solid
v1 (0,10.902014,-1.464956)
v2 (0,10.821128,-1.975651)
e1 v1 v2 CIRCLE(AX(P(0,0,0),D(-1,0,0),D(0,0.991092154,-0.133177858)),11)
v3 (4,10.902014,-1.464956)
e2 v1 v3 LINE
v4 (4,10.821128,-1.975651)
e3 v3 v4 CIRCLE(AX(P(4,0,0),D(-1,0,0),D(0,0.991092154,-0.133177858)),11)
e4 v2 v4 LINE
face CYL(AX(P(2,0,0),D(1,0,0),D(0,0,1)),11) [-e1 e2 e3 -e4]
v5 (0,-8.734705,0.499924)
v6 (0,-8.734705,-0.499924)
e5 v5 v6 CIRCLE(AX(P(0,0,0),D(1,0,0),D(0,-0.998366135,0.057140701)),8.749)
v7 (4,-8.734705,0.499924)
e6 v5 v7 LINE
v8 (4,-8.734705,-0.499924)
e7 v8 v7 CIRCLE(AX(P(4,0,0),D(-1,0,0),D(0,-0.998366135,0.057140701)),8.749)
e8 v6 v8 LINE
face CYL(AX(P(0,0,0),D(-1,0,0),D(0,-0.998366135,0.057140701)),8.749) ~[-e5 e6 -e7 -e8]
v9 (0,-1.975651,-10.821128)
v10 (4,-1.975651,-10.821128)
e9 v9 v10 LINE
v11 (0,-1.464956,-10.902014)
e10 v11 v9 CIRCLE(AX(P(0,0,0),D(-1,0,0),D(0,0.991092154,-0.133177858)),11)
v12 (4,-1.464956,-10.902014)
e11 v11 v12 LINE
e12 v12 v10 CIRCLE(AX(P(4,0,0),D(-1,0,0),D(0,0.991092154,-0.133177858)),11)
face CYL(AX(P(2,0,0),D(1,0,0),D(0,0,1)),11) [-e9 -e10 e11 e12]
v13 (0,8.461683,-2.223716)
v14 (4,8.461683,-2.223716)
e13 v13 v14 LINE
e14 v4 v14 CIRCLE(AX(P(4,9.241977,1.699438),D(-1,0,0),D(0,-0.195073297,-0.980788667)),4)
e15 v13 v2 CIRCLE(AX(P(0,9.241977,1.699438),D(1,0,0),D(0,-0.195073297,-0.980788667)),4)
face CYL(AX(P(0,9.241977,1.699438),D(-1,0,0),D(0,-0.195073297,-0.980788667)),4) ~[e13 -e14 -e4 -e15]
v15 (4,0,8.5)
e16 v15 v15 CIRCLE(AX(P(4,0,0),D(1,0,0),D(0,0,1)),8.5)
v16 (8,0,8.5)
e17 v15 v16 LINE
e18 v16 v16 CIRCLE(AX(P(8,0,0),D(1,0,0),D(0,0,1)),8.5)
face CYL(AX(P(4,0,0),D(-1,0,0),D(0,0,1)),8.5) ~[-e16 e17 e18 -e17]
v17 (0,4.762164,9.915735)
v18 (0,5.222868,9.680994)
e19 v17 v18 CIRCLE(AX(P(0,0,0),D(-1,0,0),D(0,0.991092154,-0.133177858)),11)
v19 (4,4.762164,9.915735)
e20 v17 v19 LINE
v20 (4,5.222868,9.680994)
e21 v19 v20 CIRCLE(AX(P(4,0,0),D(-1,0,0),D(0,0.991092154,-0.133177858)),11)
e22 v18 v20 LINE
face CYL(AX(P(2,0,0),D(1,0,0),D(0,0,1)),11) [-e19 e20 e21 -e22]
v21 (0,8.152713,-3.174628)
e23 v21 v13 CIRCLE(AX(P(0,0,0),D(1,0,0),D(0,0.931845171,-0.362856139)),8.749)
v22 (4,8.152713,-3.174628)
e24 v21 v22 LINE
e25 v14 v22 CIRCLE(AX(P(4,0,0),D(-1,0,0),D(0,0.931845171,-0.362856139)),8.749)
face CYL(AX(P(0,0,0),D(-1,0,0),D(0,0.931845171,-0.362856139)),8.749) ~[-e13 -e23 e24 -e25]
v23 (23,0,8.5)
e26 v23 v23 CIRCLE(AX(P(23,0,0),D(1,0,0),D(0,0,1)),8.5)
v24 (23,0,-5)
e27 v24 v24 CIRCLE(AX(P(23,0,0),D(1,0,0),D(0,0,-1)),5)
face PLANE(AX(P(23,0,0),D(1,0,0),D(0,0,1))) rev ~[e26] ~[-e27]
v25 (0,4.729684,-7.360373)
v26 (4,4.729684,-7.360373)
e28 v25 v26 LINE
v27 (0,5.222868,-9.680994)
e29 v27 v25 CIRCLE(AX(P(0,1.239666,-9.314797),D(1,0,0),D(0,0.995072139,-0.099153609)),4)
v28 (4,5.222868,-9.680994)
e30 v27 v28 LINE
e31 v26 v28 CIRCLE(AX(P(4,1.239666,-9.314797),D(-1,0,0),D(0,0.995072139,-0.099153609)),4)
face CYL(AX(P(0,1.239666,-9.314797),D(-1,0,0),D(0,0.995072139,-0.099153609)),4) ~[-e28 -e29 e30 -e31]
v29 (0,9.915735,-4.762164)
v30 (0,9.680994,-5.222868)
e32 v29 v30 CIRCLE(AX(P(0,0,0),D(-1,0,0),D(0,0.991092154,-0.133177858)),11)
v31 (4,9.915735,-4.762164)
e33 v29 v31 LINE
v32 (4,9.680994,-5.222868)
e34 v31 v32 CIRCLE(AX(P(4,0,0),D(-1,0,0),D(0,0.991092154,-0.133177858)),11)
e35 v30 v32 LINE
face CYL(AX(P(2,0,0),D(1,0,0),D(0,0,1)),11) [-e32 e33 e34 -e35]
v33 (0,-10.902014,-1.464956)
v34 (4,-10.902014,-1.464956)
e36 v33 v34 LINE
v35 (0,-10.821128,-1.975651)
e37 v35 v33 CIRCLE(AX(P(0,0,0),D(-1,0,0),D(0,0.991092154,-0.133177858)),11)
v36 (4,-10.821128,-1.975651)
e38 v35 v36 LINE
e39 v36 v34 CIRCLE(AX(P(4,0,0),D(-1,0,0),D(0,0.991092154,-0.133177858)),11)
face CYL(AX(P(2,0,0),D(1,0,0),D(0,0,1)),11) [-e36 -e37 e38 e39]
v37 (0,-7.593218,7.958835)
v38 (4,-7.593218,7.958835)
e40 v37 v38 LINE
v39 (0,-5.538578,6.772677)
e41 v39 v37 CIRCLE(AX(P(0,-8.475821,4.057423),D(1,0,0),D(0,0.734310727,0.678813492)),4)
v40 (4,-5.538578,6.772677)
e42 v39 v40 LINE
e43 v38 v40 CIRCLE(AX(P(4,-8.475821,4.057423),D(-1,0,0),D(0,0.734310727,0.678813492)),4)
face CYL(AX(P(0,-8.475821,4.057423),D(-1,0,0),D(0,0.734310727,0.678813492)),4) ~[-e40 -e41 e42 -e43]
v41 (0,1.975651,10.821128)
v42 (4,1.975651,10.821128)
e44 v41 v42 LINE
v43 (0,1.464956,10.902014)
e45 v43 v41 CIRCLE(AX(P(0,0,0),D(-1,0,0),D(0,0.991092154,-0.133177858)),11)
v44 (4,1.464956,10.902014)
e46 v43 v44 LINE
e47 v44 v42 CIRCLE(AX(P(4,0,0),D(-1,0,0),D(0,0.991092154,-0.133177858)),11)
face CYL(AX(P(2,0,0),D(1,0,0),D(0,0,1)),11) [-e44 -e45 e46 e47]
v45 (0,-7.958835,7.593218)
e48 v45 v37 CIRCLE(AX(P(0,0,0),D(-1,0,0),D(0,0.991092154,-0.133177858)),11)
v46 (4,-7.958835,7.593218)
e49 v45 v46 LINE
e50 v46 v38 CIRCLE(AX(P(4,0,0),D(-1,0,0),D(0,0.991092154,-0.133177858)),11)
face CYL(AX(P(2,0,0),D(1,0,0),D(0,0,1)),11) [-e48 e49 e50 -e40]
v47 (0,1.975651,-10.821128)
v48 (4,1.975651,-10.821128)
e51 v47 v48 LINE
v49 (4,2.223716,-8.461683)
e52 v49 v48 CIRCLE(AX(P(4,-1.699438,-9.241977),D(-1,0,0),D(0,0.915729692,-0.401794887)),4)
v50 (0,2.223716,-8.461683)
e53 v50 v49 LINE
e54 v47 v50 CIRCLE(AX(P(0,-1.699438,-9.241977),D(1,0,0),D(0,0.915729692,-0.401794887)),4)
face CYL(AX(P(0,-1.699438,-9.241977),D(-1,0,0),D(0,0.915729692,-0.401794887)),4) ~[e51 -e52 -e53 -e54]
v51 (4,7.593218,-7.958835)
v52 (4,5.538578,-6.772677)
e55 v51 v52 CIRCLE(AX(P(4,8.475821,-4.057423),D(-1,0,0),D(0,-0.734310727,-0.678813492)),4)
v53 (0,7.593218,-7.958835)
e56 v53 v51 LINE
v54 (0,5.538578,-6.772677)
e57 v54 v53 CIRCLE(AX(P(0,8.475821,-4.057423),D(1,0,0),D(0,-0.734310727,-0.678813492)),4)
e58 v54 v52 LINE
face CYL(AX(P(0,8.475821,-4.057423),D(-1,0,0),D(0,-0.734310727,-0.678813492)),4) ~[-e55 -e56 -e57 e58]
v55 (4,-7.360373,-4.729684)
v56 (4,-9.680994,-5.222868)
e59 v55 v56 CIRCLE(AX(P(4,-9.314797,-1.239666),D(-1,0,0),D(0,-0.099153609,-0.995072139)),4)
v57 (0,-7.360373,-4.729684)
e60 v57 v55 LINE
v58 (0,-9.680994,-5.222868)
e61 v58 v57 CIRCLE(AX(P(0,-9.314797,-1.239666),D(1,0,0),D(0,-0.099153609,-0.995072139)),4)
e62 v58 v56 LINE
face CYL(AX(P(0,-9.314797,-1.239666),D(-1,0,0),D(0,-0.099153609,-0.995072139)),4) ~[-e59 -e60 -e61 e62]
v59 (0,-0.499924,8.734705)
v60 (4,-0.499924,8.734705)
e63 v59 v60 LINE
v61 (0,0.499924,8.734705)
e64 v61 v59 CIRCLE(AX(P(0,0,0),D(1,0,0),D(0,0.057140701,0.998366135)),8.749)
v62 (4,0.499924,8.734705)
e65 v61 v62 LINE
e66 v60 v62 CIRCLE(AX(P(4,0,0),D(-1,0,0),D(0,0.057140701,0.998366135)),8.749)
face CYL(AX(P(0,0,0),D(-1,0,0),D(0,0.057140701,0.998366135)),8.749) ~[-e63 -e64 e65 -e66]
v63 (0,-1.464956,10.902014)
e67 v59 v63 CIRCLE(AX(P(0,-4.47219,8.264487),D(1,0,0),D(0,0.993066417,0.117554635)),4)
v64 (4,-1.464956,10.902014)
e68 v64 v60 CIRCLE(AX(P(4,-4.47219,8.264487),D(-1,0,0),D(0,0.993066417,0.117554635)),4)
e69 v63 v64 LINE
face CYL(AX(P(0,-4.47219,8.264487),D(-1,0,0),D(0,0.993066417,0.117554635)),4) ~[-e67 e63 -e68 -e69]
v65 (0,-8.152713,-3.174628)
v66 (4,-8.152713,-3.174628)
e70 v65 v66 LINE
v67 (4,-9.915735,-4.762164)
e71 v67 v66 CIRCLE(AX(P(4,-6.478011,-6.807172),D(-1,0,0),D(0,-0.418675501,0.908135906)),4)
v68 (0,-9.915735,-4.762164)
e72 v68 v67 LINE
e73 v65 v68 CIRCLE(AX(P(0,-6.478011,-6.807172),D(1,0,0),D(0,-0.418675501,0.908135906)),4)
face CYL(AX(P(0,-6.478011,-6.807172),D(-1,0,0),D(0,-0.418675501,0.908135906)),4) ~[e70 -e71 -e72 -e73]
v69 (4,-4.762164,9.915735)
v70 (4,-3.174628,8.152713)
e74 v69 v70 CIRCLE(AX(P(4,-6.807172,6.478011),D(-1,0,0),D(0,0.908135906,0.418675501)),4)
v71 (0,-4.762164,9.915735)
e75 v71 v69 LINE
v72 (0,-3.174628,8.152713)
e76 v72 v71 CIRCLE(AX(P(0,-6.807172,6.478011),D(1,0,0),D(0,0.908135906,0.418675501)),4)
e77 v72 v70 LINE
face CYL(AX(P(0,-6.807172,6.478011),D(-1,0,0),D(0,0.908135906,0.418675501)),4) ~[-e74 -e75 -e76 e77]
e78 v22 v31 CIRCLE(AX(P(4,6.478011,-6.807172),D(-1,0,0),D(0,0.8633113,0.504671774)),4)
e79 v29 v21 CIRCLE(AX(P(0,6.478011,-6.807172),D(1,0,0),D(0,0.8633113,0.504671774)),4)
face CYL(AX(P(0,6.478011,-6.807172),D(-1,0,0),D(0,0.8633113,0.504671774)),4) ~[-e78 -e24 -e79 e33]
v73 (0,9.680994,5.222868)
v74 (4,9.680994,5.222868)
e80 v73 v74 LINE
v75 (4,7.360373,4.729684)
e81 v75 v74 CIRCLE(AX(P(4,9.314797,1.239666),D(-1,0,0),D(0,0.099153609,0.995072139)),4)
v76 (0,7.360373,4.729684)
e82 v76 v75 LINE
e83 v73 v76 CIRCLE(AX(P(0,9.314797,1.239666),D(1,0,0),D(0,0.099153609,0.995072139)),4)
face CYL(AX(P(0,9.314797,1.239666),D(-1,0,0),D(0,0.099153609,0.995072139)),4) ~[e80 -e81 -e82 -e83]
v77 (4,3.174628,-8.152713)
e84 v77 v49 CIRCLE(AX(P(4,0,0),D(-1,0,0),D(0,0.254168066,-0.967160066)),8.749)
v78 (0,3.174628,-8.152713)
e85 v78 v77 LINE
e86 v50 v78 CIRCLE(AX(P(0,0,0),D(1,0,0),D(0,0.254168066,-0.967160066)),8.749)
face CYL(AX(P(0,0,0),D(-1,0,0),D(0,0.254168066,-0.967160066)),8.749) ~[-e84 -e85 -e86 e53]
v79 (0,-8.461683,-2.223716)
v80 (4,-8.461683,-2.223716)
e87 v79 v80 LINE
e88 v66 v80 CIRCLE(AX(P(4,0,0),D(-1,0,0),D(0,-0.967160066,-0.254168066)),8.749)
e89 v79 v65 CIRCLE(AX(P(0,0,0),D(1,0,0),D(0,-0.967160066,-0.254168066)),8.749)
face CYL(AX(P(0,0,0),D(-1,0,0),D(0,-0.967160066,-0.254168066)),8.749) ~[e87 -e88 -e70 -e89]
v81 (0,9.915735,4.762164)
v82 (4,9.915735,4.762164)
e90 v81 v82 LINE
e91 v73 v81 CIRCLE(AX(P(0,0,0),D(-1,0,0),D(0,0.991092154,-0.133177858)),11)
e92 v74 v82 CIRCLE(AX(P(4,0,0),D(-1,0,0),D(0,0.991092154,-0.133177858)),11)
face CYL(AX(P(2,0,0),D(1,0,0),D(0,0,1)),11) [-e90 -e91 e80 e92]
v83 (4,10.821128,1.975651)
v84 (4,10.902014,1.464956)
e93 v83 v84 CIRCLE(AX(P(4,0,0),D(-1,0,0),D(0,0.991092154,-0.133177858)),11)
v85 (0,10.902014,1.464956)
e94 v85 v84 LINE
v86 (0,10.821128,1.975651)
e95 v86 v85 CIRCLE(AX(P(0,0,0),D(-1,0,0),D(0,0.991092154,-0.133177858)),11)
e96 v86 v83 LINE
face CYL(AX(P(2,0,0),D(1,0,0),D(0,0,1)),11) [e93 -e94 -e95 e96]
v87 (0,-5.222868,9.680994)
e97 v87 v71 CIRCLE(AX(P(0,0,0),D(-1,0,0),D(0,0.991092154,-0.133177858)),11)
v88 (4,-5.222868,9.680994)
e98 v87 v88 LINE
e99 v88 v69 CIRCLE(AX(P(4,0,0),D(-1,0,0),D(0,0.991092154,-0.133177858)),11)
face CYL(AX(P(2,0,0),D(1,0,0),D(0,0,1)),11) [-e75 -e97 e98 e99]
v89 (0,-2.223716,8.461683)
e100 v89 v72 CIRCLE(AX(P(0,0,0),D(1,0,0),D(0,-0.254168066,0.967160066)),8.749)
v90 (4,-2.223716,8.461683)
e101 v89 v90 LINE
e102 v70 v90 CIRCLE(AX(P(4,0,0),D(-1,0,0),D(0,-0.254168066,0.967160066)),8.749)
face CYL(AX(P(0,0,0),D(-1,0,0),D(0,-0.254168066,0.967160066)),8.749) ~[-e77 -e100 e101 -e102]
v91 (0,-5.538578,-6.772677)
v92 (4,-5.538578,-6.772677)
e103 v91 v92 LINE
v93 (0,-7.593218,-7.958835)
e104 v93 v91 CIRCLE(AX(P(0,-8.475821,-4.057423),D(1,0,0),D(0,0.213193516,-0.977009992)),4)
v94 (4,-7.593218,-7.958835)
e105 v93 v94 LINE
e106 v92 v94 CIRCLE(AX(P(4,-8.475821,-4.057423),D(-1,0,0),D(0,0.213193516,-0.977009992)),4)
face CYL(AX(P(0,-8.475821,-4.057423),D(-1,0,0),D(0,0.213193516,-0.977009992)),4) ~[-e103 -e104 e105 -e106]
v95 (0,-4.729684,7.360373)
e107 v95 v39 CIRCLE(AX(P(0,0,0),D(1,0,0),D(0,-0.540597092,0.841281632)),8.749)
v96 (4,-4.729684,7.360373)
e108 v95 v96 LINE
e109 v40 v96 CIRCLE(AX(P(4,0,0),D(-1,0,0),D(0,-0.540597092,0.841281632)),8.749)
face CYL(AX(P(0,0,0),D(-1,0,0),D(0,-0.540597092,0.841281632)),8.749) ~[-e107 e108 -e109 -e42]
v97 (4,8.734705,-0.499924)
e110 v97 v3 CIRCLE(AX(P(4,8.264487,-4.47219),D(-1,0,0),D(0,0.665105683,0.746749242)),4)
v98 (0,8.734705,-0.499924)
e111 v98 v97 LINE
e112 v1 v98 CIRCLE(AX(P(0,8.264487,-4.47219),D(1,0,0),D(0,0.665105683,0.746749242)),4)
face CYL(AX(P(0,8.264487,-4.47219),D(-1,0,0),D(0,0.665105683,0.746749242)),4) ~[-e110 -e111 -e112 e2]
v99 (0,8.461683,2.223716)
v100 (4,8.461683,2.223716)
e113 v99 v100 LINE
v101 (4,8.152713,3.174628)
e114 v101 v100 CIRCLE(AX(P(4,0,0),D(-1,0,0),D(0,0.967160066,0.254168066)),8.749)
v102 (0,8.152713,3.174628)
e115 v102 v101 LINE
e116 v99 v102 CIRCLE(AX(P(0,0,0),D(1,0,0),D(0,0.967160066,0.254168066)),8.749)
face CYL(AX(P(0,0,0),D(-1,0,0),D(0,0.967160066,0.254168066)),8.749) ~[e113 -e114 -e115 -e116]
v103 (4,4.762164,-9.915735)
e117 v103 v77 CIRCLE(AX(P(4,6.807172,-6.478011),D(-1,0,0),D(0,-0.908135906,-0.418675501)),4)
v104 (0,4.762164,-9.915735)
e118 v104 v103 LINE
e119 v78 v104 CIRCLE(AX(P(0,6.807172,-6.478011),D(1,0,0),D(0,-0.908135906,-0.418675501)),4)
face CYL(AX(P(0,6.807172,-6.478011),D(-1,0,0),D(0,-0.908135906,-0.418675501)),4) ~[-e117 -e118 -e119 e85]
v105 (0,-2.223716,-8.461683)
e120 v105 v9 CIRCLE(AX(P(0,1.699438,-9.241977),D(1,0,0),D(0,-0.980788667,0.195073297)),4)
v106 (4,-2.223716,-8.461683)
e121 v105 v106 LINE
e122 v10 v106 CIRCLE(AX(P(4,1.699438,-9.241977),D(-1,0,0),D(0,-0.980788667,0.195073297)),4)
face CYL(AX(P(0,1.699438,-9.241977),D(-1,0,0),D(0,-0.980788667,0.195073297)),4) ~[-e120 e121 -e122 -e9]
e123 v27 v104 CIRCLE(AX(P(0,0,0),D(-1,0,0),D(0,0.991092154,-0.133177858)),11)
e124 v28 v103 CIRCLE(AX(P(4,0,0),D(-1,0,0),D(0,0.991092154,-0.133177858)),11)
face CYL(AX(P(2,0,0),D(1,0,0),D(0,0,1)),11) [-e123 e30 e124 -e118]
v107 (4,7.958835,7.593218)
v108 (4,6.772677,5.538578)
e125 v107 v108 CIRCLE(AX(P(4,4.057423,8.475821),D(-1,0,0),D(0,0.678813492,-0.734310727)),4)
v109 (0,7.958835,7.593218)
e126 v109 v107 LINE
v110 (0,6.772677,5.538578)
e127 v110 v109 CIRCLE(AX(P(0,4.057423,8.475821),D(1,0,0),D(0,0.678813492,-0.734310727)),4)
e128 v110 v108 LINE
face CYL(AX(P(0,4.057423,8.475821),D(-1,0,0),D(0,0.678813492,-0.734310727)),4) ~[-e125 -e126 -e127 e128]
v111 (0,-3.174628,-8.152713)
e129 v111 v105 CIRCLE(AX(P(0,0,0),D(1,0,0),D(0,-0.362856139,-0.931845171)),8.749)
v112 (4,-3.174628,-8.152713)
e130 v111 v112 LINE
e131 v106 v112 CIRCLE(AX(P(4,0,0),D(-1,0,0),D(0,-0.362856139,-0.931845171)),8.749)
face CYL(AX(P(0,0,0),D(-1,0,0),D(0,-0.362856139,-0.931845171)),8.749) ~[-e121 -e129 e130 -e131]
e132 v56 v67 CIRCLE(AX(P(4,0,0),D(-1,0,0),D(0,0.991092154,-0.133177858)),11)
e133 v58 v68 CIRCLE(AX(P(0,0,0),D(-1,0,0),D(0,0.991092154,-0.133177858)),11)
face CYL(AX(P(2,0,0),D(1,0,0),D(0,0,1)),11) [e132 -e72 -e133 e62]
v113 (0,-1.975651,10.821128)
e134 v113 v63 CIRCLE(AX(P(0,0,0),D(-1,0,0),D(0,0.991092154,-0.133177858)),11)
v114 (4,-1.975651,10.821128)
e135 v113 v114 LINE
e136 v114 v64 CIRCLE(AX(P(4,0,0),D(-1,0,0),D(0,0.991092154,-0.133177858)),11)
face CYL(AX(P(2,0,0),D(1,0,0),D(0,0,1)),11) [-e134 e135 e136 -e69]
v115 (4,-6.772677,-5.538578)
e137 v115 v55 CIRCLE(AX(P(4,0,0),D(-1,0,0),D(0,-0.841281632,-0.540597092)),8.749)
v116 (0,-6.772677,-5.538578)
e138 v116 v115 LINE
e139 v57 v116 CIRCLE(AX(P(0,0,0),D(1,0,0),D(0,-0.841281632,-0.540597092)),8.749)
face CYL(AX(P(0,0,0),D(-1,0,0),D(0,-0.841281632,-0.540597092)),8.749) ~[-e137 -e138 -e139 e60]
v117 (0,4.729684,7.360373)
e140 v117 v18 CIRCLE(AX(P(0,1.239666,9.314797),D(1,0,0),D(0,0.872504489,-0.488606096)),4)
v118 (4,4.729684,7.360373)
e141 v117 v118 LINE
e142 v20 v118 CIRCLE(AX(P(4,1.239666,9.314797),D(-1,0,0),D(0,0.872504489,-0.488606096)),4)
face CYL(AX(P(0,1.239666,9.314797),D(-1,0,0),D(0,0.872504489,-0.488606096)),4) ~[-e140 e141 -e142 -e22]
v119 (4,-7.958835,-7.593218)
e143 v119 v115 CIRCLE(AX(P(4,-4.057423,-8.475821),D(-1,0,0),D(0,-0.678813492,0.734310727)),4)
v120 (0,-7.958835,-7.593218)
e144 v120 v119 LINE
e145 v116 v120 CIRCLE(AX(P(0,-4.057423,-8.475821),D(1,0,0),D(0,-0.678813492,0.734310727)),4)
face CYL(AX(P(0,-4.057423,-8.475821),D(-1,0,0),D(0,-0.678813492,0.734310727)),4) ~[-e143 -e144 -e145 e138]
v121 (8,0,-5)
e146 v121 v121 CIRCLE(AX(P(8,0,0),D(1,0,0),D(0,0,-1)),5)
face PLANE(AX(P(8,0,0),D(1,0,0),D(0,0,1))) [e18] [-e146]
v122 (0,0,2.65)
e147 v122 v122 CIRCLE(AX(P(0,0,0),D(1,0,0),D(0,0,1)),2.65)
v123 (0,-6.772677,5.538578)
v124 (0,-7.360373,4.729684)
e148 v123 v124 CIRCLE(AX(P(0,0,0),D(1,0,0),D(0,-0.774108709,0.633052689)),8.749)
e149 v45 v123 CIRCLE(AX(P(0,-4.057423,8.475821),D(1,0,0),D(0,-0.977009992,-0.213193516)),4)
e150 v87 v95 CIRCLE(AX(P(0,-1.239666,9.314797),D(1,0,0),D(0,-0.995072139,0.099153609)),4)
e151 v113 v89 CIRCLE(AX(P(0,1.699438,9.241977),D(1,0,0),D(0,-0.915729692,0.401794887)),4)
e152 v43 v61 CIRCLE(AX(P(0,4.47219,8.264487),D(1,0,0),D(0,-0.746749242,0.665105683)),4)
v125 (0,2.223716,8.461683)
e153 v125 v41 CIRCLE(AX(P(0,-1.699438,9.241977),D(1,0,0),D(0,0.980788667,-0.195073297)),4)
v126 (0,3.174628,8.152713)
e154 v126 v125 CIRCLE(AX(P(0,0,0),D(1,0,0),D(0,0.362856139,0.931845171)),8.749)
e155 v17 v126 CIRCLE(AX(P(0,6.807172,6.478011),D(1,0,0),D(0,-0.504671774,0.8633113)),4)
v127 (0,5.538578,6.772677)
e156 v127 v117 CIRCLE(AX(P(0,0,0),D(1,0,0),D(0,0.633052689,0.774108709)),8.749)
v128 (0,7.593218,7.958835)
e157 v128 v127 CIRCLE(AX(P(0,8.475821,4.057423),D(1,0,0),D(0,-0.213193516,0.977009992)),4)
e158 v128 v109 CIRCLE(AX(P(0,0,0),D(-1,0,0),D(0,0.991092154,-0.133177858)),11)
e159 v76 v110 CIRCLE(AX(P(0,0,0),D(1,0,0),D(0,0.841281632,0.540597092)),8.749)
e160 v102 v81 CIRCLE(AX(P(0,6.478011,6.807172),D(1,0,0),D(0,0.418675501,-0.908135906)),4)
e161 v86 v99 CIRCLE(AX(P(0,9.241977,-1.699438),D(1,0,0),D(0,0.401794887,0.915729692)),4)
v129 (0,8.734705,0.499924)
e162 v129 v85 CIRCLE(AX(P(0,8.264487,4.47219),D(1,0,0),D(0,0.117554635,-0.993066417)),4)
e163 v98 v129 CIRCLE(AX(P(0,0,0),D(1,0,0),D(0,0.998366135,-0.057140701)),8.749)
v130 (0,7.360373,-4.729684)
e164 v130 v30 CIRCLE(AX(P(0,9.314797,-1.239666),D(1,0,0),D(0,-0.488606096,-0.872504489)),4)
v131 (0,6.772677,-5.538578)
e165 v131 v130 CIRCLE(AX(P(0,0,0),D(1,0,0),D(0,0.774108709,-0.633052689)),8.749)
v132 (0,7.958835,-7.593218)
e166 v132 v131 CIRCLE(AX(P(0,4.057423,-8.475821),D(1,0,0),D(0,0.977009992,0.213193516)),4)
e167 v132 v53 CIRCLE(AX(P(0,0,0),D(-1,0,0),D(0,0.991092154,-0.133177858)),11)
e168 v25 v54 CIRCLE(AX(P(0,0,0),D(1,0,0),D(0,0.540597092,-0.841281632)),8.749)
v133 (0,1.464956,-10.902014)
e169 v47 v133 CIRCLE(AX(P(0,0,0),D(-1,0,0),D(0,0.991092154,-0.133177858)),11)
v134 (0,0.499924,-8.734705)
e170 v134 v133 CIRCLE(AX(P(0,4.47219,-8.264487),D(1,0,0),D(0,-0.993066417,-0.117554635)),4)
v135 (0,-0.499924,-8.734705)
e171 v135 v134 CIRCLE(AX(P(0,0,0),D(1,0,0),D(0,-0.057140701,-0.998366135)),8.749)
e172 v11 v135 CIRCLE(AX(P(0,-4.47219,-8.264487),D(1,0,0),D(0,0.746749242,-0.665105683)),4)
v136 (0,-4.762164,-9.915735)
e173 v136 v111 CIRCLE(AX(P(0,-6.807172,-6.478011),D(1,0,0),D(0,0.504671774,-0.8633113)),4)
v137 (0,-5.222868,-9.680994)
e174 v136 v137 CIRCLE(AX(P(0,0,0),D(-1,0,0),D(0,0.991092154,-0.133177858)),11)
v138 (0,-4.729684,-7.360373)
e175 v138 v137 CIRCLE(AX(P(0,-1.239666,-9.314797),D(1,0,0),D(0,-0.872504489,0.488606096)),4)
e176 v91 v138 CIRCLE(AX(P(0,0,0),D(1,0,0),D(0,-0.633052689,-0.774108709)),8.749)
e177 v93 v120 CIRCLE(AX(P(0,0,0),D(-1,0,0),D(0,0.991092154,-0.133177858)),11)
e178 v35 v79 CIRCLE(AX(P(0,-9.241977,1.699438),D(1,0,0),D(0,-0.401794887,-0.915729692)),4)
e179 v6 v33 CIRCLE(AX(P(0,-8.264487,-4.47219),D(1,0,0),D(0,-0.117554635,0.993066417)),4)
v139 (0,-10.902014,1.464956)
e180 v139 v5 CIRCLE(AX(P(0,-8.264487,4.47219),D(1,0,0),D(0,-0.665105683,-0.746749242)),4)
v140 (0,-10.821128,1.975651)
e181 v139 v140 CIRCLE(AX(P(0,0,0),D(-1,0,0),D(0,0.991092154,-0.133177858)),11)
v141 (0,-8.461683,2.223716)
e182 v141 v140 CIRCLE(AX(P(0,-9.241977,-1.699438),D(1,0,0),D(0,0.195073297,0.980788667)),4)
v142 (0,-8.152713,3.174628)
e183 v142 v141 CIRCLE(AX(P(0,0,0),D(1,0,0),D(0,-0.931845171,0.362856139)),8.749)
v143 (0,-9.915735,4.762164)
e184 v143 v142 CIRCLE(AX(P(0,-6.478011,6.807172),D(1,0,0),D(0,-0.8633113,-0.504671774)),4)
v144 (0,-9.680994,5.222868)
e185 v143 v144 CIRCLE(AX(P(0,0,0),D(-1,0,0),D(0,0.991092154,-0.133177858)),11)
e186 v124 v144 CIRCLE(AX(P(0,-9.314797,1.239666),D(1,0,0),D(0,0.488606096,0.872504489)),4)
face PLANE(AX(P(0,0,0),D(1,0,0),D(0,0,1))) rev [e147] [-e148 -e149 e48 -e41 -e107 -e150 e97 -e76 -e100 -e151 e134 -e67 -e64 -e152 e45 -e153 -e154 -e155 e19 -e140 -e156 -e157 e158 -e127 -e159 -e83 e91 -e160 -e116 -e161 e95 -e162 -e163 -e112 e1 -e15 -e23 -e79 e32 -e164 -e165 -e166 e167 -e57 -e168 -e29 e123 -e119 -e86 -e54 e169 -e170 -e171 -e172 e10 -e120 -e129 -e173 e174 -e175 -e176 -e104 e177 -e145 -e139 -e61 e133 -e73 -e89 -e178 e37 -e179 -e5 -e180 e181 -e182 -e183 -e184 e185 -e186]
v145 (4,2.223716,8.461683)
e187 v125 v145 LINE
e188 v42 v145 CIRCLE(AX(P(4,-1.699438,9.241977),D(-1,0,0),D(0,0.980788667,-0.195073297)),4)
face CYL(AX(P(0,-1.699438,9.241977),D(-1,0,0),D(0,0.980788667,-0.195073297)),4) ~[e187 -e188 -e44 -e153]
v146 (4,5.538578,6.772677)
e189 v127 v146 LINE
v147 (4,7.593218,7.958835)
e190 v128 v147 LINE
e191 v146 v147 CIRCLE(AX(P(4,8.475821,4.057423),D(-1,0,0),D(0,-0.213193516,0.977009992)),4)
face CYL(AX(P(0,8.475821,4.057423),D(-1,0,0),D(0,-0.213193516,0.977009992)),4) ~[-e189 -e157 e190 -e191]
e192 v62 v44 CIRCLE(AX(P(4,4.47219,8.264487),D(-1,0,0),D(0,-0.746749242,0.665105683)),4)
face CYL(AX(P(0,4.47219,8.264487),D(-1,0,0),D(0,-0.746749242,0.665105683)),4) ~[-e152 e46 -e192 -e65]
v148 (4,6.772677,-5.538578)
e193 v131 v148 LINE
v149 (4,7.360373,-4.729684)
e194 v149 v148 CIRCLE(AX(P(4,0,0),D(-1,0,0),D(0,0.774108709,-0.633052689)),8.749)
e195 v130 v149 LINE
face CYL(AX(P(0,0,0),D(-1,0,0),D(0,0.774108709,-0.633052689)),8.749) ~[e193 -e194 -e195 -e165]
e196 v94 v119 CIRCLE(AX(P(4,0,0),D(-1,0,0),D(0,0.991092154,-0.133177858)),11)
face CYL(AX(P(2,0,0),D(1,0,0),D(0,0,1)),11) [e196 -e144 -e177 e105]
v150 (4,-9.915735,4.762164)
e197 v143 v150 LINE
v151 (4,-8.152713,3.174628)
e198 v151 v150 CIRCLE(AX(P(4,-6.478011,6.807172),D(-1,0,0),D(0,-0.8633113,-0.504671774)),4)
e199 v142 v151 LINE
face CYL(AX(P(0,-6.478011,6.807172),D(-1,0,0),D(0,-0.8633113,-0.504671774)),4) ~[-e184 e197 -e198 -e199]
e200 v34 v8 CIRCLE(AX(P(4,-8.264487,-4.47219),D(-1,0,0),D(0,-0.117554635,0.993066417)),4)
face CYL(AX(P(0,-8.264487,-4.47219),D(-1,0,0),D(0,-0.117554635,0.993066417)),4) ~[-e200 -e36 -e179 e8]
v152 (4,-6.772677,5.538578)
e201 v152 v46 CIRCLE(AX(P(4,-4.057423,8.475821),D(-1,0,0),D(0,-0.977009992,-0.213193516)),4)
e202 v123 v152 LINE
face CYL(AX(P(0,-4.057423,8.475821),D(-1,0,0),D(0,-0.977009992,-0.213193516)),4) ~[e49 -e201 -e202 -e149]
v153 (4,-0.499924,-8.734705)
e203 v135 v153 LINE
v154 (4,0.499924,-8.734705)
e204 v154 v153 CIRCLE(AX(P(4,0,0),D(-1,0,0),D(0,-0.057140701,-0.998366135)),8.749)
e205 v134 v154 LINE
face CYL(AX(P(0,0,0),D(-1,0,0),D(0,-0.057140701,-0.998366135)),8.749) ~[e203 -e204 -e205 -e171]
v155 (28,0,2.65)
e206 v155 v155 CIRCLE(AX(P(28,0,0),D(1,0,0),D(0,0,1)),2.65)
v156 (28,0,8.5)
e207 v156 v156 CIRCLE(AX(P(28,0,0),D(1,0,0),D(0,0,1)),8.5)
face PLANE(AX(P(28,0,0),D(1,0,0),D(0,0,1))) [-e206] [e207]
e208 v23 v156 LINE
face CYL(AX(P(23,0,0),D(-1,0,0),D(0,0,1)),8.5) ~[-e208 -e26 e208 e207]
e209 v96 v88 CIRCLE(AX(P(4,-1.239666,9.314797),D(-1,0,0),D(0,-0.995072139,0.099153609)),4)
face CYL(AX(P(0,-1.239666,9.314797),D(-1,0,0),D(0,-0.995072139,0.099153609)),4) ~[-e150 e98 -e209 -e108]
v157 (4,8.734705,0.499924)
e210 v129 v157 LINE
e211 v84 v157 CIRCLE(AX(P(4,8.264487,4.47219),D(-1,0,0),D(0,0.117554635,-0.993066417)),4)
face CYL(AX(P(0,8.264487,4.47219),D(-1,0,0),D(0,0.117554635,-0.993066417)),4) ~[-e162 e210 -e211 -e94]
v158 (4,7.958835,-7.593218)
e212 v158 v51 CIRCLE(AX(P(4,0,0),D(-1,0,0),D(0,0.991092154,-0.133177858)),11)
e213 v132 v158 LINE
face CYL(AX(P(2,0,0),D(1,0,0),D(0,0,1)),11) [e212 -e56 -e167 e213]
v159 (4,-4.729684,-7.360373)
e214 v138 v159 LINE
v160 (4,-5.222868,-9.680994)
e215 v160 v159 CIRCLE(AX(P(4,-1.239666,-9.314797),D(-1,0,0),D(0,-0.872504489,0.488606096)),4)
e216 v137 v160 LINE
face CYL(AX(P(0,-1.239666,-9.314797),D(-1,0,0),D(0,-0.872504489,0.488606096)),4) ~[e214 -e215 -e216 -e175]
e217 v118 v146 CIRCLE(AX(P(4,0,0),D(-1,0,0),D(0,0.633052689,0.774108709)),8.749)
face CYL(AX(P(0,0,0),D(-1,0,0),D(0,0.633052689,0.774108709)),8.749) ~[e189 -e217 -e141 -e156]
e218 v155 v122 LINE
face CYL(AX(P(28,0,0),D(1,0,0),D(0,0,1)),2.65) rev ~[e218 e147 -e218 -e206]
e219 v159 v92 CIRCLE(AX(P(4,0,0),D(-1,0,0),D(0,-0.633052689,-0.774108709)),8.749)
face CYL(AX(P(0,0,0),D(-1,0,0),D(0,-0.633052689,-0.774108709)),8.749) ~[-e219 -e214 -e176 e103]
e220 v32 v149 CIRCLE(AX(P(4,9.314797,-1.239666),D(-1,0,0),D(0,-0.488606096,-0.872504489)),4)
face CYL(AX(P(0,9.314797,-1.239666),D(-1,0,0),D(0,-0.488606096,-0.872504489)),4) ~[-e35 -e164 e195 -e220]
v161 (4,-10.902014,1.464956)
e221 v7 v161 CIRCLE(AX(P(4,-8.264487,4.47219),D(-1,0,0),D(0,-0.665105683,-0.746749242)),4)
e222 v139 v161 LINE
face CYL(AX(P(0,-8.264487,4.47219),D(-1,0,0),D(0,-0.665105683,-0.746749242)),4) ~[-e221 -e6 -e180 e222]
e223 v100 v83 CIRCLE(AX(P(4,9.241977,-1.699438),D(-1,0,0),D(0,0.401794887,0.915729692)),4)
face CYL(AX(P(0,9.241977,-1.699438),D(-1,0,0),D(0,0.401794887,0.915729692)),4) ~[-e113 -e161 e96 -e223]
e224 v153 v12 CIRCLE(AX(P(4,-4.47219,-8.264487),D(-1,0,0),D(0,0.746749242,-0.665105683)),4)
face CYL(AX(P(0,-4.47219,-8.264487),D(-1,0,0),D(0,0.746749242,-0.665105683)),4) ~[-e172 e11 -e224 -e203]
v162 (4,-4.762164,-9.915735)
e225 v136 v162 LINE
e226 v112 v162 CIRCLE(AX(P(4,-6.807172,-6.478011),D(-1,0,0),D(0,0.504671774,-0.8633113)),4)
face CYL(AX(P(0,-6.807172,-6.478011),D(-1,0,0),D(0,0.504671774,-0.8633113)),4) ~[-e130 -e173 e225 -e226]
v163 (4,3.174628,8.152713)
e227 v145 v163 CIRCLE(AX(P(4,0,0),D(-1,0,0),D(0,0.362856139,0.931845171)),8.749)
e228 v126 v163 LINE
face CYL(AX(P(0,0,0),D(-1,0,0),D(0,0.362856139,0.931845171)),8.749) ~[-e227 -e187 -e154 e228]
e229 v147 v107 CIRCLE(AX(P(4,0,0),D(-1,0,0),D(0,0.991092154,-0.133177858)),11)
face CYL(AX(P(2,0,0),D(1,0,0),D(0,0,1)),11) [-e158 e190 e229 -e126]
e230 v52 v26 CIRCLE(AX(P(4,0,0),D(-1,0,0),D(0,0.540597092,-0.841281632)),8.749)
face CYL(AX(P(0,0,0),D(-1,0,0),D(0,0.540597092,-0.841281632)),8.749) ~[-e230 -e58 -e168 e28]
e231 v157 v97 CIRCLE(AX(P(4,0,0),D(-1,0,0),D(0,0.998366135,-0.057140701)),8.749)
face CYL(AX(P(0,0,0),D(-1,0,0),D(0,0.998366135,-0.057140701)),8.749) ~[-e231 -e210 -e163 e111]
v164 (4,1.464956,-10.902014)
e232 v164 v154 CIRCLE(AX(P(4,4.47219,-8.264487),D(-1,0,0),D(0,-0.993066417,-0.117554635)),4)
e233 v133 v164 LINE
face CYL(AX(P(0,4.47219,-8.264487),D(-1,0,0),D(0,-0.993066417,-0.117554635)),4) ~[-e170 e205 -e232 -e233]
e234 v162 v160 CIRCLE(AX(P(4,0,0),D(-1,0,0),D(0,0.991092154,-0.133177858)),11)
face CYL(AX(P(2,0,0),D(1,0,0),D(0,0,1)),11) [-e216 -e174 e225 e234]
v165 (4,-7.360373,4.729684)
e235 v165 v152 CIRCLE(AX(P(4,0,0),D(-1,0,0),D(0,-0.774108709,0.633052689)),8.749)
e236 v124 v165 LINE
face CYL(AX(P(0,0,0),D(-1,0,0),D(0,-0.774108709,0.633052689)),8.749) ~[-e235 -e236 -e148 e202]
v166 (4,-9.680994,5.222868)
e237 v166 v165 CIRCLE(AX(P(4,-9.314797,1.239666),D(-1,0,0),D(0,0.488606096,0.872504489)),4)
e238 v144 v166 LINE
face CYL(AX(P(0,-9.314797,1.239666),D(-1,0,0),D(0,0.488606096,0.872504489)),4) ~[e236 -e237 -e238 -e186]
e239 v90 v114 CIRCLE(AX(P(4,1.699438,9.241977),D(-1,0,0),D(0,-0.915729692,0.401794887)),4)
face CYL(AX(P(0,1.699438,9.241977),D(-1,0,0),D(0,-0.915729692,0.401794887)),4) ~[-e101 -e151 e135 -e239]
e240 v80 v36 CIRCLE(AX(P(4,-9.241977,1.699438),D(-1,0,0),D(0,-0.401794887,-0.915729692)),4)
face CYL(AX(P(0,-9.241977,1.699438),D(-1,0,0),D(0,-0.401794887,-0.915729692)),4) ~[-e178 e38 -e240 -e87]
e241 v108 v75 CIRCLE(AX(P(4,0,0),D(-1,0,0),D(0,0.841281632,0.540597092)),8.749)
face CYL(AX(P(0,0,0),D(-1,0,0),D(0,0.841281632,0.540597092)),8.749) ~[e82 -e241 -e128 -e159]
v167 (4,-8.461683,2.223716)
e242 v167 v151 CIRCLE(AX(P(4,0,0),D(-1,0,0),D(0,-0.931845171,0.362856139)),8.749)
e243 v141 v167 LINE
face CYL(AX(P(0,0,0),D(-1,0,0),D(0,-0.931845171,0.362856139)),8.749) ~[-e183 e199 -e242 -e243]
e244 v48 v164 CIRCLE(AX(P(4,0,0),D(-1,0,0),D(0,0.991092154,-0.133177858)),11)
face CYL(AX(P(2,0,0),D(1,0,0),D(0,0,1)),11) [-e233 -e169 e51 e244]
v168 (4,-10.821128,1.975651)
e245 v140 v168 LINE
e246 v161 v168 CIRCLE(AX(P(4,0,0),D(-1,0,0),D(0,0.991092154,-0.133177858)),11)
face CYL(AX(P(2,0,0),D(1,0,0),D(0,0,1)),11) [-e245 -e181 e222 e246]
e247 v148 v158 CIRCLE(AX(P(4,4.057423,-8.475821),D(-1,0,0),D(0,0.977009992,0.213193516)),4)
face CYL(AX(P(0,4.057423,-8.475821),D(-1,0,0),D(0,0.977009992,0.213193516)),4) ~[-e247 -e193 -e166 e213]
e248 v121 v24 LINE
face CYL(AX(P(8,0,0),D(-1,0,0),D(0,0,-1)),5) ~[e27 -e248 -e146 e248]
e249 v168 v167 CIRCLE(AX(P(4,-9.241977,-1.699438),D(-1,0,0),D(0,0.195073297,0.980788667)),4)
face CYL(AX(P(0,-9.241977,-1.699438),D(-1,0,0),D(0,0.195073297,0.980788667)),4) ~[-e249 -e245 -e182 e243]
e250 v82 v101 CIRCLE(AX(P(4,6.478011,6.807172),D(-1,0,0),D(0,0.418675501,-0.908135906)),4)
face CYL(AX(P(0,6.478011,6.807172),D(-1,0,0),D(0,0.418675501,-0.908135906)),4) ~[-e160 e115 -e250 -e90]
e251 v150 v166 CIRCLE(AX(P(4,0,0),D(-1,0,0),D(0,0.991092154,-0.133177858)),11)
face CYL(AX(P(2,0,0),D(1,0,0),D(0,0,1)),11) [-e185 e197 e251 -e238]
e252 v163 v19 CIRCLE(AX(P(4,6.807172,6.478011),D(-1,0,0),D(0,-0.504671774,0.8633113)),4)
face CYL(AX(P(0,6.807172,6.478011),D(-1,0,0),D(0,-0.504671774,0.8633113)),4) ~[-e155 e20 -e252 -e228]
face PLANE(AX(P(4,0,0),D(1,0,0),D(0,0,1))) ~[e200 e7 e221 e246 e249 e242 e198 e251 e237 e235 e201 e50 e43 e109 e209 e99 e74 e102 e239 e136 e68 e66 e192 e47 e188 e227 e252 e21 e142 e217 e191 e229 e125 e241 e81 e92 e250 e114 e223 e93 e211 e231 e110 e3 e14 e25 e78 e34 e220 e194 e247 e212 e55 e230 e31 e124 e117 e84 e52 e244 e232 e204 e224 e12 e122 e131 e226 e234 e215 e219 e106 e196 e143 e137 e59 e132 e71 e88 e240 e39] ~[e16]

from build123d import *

# Parameters (mm, degrees)
BASPROSKE_W             = 4
BASPROSKE_H             = 11
TOOTHCUT_DEPTH          = 17.062378404
TEETHCUTS_COUNT         = 20
TEETHCUTS_ANGLE         = 342
BORSKE_R                = 2.5
BORE_DEPTH              = 50.0000508
SKETCH1_R               = 8.5
BOSS_EXTRUDE1_DEPTH     = 4
SKETCH2_R               = 5
BOSS_EXTRUDE2_DEPTH     = 15
SKETCH3_R               = 8.5
BOSS_EXTRUDE3_DEPTH     = 5
SKETCH4_R               = 2.65
CUT_EXTRUDE1_DEPTH      = 32.964164392
CUT_EXTRUDE1_DEPTH_BACK = 32.964164392


with BuildPart() as part:
    # BasProSke → Base-Revolve (revolve)
    with BuildSketch(Plane(origin=(0, 0, 0), x_dir=(1, 0, 0), z_dir=(0, 1, 0)), mode=Mode.PRIVATE) as base_revolve_sk:
        with Locations((2, 5.5)):
            Rectangle(BASPROSKE_W, BASPROSKE_H)
    revolve(base_revolve_sk.sketch.rotate(Axis((-10, 0, 0), (1, 0, 0)), 180), axis=Axis((-10, 0, 0), (1, 0, 0)))

    # TooCutSke → ToothCut (cut, through all)
    with BuildSketch(Plane(origin=(0, 0, 0), x_dir=(0, 0, -1), z_dir=(1, 0, 0))):
        with BuildLine():
            ThreePointArc((0.499924007, 8.734705318), (0, 8.749), (-0.499924007, 8.734705318))
            ThreePointArc((-0.499924007, 8.734705318), (-0.824302243, 9.905497836), (-1.485192705, 10.924909509))
            ThreePointArc((-1.485192705, 10.924909509), (0, 11.0254), (1.485192705, 10.924909509))
            ThreePointArc((1.485192705, 10.924909509), (0.824302243, 9.905497836), (0.499924007, 8.734705318))
        make_face()
    toothcut = extrude(amount=TOOTHCUT_DEPTH, mode=Mode.SUBTRACT)

    # TeethCuts: ToothCut ×20 about axis
    teethcuts_axis = Axis((-10, 0, 0), (1, 0, 0))
    for i in range(1, TEETHCUTS_COUNT):
        add(toothcut.rotate(teethcuts_axis, i * TEETHCUTS_ANGLE / (TEETHCUTS_COUNT - 1)), mode=Mode.SUBTRACT)

    # BorSke → Bore (cut, symmetric)
    with BuildSketch(Plane(origin=(0, 0, 0), x_dir=(0, 0, -1), z_dir=(1, 0, 0))):
        with Locations(Location((0, 0, 0), (0, 0, 180))):
            Circle(BORSKE_R)
    extrude(amount=BORE_DEPTH, both=True, mode=Mode.SUBTRACT)

    # Sketch1 → Boss-Extrude1 (add)
    with BuildSketch(Plane(origin=(4, 0, 0), x_dir=(0, 0, -1), z_dir=(1, 0, 0))):
        with Locations(Location((0, 0, 0), (0, 0, 180))):
            Circle(SKETCH1_R)
    extrude(amount=BOSS_EXTRUDE1_DEPTH)

    # Sketch2 → Boss-Extrude2 (add)
    with BuildSketch(Plane(origin=(8, 0, 0), x_dir=(0, 0, -1), z_dir=(1, 0, 0))):
        Circle(SKETCH2_R)
    extrude(amount=BOSS_EXTRUDE2_DEPTH)

    # Sketch3 → Boss-Extrude3 (add)
    with BuildSketch(Plane(origin=(23, 0, 0), x_dir=(0, 0, -1), z_dir=(1, 0, 0))):
        with Locations(Location((0, 0, 0), (0, 0, 180))):
            Circle(SKETCH3_R)
    extrude(amount=BOSS_EXTRUDE3_DEPTH)

    # Sketch4 → Cut-Extrude1 (cut, two sides)
    with BuildSketch(Plane(origin=(28, 0, 0), x_dir=(0, 0, -1), z_dir=(1, 0, 0))) as cut_extrude1_sk:
        with Locations(Location((0, 0, 0), (0, 0, 180))):
            Circle(SKETCH4_R)
    extrude(amount=CUT_EXTRUDE1_DEPTH, mode=Mode.SUBTRACT)
    extrude(cut_extrude1_sk.sketch, amount=-CUT_EXTRUDE1_DEPTH_BACK, mode=Mode.SUBTRACT)


solid = part.part
